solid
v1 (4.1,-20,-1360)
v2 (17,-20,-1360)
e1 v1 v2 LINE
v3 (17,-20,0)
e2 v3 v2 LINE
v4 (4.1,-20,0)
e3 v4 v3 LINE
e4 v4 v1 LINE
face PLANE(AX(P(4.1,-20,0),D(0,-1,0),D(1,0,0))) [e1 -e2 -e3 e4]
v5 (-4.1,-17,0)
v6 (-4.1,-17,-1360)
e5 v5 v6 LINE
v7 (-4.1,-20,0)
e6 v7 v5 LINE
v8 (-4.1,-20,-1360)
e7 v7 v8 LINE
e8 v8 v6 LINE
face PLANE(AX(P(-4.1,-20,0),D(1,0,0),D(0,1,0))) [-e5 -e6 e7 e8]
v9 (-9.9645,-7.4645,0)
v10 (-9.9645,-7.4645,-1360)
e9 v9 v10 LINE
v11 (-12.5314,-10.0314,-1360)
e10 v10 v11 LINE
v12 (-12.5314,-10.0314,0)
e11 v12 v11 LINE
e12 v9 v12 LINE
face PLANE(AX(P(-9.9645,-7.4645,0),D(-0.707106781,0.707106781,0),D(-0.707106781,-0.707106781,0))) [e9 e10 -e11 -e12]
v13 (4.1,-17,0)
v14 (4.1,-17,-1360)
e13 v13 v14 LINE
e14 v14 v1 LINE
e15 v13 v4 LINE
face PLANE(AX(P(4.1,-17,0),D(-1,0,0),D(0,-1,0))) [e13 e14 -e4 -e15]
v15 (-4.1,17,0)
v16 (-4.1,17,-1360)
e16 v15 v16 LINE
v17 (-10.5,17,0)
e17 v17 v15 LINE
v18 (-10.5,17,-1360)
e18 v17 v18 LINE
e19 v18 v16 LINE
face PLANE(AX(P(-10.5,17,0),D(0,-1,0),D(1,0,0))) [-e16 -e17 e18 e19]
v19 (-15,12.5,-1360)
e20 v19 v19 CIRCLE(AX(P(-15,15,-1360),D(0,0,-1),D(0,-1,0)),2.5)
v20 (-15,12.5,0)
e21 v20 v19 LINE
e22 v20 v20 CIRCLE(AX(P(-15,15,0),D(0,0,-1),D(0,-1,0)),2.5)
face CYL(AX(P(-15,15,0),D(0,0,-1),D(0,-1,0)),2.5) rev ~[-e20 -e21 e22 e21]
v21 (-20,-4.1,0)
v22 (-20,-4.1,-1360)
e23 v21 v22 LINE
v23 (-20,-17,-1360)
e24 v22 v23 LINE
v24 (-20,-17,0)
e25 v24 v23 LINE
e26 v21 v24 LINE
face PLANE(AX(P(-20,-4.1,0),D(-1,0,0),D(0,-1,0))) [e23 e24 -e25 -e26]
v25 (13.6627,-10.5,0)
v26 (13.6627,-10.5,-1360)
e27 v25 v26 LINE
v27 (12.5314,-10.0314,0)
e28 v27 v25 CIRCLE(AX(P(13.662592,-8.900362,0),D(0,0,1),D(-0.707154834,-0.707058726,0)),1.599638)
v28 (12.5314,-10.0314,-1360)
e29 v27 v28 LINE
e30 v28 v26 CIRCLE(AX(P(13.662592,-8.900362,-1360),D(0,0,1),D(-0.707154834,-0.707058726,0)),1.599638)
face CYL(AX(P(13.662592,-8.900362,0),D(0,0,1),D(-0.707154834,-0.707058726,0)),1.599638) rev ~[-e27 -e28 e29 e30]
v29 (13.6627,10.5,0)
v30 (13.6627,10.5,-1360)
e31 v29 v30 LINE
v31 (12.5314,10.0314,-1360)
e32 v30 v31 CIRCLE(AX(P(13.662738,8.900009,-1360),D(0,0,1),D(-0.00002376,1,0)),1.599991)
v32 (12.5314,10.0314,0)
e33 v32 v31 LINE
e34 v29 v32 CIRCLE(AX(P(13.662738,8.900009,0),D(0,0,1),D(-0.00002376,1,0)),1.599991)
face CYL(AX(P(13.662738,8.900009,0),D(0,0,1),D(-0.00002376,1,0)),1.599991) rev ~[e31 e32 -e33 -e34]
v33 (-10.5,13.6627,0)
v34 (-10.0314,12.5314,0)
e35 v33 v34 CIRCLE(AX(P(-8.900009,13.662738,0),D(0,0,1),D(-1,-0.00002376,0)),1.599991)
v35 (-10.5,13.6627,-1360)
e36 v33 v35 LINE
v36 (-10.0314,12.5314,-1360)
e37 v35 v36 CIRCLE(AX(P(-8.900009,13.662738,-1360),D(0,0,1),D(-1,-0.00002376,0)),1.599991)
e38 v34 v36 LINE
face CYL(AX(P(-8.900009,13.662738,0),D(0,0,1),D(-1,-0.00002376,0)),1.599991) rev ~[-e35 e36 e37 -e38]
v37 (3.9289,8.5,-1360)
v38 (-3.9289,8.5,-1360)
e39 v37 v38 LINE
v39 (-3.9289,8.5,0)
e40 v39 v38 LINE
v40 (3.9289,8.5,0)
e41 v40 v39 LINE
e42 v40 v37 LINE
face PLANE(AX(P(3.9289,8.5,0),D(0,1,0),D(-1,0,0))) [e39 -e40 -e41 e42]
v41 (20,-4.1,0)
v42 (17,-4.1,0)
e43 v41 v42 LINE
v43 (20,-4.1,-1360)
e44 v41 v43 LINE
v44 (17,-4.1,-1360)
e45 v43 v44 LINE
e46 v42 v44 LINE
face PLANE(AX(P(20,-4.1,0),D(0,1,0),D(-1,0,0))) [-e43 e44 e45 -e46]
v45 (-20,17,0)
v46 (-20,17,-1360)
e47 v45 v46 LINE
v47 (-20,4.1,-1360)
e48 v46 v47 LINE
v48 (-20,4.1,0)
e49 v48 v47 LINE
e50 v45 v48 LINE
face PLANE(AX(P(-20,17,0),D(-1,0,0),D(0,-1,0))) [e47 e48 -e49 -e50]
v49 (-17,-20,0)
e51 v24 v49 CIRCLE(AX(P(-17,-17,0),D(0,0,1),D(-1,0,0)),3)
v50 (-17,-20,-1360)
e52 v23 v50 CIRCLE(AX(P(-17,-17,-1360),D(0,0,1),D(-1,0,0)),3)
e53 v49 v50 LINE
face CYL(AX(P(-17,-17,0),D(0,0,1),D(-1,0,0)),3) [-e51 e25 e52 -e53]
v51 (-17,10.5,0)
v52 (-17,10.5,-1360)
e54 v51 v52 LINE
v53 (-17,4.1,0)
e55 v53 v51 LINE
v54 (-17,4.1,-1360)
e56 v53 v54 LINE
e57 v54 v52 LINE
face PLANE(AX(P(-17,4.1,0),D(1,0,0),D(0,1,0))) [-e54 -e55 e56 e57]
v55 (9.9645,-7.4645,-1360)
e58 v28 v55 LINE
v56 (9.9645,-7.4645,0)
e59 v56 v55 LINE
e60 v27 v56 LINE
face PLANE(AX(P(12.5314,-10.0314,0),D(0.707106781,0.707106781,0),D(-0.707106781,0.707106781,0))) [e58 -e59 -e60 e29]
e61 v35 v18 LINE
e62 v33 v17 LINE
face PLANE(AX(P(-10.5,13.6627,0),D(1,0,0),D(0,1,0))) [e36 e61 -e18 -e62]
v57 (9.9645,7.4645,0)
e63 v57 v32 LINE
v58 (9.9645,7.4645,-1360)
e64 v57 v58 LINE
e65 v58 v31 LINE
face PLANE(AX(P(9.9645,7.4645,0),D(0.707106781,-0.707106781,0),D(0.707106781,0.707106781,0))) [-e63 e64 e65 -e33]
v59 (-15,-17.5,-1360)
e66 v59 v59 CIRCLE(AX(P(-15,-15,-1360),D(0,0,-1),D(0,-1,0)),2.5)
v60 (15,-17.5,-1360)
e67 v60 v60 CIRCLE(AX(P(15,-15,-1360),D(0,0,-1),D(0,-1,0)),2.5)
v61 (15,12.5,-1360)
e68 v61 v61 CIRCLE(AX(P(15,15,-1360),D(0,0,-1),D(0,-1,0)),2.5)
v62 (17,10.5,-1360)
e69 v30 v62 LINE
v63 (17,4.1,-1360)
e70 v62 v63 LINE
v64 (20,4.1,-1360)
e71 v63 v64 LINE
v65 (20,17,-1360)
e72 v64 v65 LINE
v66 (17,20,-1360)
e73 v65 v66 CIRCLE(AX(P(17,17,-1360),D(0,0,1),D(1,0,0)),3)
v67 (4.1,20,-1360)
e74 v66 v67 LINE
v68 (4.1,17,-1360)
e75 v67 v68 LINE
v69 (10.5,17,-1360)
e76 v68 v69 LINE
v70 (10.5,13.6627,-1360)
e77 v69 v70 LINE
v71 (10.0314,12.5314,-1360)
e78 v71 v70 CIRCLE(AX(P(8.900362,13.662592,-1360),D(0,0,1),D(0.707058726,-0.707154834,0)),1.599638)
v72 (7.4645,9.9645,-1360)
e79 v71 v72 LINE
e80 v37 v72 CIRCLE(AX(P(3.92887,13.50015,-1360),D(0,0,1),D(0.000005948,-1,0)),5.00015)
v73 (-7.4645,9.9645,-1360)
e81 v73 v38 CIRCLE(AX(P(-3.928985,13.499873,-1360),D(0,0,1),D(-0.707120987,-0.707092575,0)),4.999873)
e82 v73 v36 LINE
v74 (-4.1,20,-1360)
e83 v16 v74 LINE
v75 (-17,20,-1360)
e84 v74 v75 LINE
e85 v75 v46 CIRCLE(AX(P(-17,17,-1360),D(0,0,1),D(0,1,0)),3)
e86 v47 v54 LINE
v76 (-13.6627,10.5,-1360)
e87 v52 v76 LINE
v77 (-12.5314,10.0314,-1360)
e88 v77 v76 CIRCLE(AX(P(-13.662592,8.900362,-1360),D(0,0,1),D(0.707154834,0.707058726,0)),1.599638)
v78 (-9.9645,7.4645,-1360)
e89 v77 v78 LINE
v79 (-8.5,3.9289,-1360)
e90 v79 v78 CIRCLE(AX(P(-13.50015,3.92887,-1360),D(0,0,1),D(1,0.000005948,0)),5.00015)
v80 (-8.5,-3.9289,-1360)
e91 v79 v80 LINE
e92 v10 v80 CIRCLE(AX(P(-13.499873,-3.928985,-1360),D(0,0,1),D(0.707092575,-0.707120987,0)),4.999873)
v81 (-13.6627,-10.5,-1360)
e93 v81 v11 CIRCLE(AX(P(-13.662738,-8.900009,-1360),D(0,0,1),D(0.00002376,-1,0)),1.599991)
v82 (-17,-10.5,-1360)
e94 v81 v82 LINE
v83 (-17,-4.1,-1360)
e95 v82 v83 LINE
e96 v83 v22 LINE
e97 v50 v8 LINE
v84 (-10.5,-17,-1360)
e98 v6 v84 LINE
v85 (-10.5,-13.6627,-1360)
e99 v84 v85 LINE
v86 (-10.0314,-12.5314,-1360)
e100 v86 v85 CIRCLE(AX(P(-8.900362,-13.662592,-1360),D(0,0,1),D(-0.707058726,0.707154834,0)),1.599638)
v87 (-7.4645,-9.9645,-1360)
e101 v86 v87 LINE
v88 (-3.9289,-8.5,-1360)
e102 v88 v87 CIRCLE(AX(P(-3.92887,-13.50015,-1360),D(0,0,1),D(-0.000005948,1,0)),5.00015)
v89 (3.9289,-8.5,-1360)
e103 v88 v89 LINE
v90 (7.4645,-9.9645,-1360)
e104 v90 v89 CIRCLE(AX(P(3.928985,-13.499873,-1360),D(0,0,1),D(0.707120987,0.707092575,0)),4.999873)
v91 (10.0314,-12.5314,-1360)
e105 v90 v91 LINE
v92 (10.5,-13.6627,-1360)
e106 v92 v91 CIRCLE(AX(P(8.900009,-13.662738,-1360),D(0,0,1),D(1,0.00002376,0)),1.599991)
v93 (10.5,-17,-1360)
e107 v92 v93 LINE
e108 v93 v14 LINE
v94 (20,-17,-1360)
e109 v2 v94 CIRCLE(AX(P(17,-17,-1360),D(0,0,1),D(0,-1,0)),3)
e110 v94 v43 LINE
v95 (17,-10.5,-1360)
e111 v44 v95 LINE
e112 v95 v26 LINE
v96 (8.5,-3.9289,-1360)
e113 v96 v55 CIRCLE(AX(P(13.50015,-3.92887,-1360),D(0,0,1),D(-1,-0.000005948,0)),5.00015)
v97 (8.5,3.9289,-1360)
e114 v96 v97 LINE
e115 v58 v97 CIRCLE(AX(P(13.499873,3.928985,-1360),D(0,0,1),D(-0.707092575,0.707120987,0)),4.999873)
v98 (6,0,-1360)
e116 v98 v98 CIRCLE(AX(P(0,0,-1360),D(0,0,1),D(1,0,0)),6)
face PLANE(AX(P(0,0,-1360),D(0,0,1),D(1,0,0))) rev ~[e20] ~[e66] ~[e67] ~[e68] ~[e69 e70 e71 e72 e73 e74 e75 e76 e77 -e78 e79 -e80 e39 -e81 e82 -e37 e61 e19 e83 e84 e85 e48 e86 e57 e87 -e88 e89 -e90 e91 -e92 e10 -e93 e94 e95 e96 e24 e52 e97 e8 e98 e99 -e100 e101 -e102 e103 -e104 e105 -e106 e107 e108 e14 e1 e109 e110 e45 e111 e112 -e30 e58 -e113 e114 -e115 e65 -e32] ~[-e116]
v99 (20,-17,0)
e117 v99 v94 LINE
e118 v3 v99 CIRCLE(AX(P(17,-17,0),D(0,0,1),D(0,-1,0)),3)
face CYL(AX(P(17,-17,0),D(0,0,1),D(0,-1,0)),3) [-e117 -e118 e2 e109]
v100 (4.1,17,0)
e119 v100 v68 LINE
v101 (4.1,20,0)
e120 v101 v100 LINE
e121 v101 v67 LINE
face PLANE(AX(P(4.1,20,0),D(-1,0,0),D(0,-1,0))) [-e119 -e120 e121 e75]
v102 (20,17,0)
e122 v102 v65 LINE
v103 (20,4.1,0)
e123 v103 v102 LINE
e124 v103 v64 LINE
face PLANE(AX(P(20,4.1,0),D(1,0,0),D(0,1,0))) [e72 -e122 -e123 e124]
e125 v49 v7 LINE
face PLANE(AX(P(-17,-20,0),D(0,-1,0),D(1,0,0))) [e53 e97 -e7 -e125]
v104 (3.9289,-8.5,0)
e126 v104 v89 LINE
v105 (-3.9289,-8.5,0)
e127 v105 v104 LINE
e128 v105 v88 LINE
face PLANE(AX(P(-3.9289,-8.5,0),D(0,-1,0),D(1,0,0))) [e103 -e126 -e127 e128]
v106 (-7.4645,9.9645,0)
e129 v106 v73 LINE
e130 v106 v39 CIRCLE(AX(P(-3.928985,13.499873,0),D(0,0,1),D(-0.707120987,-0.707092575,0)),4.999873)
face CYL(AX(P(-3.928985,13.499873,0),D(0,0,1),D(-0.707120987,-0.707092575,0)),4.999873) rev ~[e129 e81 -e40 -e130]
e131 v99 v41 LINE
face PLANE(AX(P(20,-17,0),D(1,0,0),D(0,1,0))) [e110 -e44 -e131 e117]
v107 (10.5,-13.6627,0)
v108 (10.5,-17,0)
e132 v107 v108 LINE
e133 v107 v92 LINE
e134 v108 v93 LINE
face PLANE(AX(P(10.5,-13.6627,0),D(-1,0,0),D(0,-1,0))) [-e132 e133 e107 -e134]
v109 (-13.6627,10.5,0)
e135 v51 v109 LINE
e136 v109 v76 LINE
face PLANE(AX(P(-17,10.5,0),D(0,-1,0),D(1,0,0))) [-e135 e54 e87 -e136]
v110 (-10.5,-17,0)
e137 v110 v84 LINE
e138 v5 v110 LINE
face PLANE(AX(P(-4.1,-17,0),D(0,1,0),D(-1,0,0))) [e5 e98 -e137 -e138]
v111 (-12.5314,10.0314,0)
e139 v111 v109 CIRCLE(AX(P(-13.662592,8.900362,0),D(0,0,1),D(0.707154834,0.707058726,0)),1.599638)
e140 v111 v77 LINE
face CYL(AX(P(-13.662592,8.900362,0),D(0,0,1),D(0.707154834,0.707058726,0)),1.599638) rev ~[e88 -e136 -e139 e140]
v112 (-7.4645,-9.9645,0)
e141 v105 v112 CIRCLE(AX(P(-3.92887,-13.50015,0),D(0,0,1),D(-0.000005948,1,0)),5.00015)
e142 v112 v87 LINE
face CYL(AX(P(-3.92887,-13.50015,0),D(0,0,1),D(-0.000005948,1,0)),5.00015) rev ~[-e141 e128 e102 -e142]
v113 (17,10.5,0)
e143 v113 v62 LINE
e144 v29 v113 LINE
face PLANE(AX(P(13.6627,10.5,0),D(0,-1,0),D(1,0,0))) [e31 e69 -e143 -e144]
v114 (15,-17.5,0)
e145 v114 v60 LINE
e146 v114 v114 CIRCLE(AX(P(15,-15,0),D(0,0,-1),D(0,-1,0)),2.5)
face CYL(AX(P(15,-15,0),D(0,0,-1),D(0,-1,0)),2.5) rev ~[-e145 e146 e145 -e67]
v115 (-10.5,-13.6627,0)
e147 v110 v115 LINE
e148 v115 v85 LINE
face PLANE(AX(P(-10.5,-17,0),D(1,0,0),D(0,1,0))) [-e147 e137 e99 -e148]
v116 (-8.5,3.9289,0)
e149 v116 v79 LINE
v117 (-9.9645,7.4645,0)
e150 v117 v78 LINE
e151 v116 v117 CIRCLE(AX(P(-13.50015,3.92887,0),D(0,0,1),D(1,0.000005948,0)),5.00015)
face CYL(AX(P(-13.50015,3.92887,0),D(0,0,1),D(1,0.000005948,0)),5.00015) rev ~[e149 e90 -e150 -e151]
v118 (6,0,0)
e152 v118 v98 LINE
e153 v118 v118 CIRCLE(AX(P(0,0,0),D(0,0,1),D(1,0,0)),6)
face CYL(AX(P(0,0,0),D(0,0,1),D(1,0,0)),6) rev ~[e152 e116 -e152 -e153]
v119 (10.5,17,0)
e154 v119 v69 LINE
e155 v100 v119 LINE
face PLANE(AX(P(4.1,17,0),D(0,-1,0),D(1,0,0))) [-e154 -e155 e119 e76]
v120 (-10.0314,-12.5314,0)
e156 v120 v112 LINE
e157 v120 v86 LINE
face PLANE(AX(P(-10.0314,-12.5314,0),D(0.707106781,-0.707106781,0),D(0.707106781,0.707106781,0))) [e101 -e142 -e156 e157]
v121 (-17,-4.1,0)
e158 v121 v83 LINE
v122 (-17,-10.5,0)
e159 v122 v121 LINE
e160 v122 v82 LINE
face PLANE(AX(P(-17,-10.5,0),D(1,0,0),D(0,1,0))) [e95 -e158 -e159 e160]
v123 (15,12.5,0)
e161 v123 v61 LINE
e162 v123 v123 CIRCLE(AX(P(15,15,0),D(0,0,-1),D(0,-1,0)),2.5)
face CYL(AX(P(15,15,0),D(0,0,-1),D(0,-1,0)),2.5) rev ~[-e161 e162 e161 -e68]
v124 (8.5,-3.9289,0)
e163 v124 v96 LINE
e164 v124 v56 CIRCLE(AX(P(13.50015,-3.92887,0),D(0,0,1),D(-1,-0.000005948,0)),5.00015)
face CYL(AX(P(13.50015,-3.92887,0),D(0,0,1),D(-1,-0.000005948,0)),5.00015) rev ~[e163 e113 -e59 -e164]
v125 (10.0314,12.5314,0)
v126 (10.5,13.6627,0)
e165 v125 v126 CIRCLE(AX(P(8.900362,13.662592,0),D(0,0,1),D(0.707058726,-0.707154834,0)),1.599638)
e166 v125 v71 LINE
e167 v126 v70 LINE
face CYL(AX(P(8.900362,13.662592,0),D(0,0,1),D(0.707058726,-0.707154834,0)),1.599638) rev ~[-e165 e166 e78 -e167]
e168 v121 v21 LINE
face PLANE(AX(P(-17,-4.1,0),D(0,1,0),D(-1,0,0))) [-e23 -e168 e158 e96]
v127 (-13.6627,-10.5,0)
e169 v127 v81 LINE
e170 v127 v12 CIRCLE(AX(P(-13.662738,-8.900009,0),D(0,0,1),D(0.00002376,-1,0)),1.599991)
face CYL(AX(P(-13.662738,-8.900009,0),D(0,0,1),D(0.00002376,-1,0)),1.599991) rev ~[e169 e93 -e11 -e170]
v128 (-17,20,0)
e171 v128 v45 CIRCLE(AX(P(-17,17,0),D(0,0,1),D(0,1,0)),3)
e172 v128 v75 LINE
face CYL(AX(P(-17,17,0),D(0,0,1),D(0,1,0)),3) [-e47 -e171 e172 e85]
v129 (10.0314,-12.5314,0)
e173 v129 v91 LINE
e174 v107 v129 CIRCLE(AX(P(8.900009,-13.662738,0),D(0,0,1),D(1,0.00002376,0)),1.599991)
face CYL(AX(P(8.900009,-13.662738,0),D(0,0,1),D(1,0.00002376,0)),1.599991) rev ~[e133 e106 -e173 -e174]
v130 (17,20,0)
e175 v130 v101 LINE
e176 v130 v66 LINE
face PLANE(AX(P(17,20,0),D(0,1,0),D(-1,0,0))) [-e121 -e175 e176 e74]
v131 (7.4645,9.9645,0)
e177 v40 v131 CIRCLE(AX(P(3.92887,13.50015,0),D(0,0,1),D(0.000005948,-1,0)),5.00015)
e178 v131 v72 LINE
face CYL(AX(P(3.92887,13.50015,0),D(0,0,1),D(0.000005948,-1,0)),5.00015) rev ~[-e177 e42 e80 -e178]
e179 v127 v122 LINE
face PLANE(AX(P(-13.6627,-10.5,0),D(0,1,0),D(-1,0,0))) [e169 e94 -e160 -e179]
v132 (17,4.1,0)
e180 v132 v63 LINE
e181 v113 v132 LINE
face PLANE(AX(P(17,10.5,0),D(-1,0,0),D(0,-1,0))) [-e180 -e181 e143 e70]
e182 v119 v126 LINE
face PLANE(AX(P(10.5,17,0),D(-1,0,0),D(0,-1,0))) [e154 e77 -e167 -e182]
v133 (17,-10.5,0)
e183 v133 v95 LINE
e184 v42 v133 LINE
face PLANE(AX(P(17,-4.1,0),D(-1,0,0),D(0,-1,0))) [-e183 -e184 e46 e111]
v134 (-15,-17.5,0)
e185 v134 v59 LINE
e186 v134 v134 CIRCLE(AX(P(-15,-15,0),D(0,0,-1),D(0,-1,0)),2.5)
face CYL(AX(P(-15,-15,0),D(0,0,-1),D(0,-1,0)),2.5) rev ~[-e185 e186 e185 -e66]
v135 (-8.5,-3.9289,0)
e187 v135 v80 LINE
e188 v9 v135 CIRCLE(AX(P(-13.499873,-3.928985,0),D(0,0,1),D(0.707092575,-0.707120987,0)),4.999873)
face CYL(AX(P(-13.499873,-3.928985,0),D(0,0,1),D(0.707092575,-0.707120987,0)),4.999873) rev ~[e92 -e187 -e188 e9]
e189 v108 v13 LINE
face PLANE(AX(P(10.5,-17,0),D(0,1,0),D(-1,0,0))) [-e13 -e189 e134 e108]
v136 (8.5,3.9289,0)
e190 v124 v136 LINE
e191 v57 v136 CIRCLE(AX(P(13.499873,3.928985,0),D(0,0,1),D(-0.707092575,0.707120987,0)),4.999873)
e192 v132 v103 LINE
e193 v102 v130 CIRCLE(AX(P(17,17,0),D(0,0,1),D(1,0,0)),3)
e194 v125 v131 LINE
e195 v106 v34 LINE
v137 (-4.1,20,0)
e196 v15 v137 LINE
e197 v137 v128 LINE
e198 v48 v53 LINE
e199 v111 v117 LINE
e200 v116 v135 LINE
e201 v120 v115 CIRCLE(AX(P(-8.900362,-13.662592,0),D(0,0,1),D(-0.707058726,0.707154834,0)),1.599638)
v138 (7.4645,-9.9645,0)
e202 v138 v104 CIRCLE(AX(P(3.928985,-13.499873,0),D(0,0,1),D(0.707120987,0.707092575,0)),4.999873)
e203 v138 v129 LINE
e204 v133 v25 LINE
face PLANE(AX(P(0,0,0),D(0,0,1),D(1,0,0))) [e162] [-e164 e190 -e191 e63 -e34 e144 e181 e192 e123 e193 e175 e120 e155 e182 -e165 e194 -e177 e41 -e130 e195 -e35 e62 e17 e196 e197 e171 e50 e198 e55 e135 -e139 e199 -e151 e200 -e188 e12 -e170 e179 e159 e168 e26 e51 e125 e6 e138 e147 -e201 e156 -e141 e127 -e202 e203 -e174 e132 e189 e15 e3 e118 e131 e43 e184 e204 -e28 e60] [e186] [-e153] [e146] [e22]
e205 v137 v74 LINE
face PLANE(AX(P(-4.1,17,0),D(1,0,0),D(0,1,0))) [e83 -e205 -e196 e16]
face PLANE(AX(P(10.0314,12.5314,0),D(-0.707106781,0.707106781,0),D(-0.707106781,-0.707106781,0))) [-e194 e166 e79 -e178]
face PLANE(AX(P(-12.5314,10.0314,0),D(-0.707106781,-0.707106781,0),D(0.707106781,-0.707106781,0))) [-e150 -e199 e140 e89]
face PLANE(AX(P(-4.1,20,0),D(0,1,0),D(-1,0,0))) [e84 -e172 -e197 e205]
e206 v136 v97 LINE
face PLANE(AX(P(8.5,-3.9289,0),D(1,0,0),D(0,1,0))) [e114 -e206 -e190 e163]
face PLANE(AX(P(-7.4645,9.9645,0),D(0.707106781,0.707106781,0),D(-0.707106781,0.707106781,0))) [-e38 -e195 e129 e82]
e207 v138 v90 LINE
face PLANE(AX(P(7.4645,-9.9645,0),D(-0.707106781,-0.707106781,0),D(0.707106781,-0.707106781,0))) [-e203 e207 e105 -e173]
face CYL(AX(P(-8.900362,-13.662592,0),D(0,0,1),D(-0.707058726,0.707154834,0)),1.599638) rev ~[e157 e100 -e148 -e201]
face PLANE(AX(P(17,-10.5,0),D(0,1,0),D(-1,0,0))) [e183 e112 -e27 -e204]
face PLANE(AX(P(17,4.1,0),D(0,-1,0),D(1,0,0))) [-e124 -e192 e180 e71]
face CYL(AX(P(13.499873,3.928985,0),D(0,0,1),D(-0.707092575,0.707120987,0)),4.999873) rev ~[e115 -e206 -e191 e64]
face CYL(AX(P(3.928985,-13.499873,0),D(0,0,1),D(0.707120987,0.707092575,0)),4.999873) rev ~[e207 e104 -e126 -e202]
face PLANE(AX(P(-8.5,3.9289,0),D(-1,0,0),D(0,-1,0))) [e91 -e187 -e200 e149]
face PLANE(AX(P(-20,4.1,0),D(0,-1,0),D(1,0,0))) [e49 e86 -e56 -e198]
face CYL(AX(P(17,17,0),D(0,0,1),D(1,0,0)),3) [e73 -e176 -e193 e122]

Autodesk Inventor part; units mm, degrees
sketch "Skizze_1" plane through (0, 0, 0) normal (0, 0, 1) x (1, 0, 0)
  arc A0 (-20, -17) -> (-17, -20) centre (-17, -17) ccw
  line L0 (-17, -20) -> (-4.1, -20)
  line L1 (-4.1, -20) -> (-4.1, -17)
  line L2 (-4.1, -17) -> (-10.5, -17)
  line L3 (-10.5, -17) -> (-10.5, -13.6627)
  arc A1 (-10.0314, -12.5314) -> (-10.5, -13.6627) centre (-8.9002, -13.6627) ccw
  line L4 (-10.0314, -12.5314) -> (-7.4645, -9.9645)
  arc A2 (-3.9289, -8.5) -> (-7.4645, -9.9645) centre (-3.9289, -13.5) ccw
  line L5 (-3.9289, -8.5) -> (3.9289, -8.5)
  arc A3 (7.4645, -9.9645) -> (3.9289, -8.5) centre (3.9289, -13.5) ccw
  line L6 (7.4645, -9.9645) -> (10.0314, -12.5314)
  arc A4 (10.5, -13.6627) -> (10.0314, -12.5314) centre (8.9002, -13.6627) ccw
  line L7 (10.5, -13.6627) -> (10.5, -17)
  line L8 (10.5, -17) -> (4.1, -17)
  line L9 (4.1, -17) -> (4.1, -20)
  line L10 (4.1, -20) -> (17, -20)
  arc A5 (17, -20) -> (20, -17) centre (17, -17) ccw
  line L11 (20, -17) -> (20, -4.1)
  line L12 (20, -4.1) -> (17, -4.1)
  line L13 (17, -4.1) -> (17, -10.5)
  line L14 (17, -10.5) -> (13.6627, -10.5)
  arc A6 (12.5314, -10.0314) -> (13.6627, -10.5) centre (13.6627, -8.9002) ccw
  line L15 (12.5314, -10.0314) -> (9.9645, -7.4645)
  arc A7 (8.5, -3.9289) -> (9.9645, -7.4645) centre (13.5, -3.9289) ccw
  line L16 (8.5, -3.9289) -> (8.5, 3.9289)
  arc A8 (9.9645, 7.4645) -> (8.5, 3.9289) centre (13.5, 3.9289) ccw
  line L17 (9.9645, 7.4645) -> (12.5314, 10.0314)
  arc A9 (13.6627, 10.5) -> (12.5314, 10.0314) centre (13.6627, 8.9002) ccw
  line L18 (13.6627, 10.5) -> (17, 10.5)
  line L19 (17, 10.5) -> (17, 4.1)
  line L20 (17, 4.1) -> (20, 4.1)
  line L21 (20, 4.1) -> (20, 17)
  arc A10 (20, 17) -> (17, 20) centre (17, 17) ccw
  line L22 (17, 20) -> (4.1, 20)
  line L23 (4.1, 20) -> (4.1, 17)
  line L24 (4.1, 17) -> (10.5, 17)
  line L25 (10.5, 17) -> (10.5, 13.6627)
  arc A11 (10.0314, 12.5314) -> (10.5, 13.6627) centre (8.9002, 13.6627) ccw
  line L26 (10.0314, 12.5314) -> (7.4645, 9.9645)
  arc A12 (3.9289, 8.5) -> (7.4645, 9.9645) centre (3.9289, 13.5) ccw
  line L27 (3.9289, 8.5) -> (-3.9289, 8.5)
  arc A13 (-7.4645, 9.9645) -> (-3.9289, 8.5) centre (-3.9289, 13.5) ccw
  line L28 (-7.4645, 9.9645) -> (-10.0314, 12.5314)
  arc A14 (-10.5, 13.6627) -> (-10.0314, 12.5314) centre (-8.9002, 13.6627) ccw
  line L29 (-10.5, 13.6627) -> (-10.5, 17)
  line L30 (-10.5, 17) -> (-4.1, 17)
  line L31 (-4.1, 17) -> (-4.1, 20)
  line L32 (-4.1, 20) -> (-17, 20)
  arc A15 (-17, 20) -> (-20, 17) centre (-17, 17) ccw
  line L33 (-20, 17) -> (-20, 4.1)
  line L34 (-20, 4.1) -> (-17, 4.1)
  line L35 (-17, 4.1) -> (-17, 10.5)
  line L36 (-17, 10.5) -> (-13.6627, 10.5)
  arc A16 (-12.5314, 10.0314) -> (-13.6627, 10.5) centre (-13.6627, 8.9002) ccw
  line L37 (-12.5314, 10.0314) -> (-9.9645, 7.4645)
  arc A17 (-8.5, 3.9289) -> (-9.9645, 7.4645) centre (-13.5, 3.9289) ccw
  line L38 (-8.5, 3.9289) -> (-8.5, -3.9289)
  arc A18 (-9.9645, -7.4645) -> (-8.5, -3.9289) centre (-13.5, -3.9289) ccw
  line L39 (-9.9645, -7.4645) -> (-12.5314, -10.0314)
  arc A19 (-13.6627, -10.5) -> (-12.5314, -10.0314) centre (-13.6627, -8.9002) ccw
  line L40 (-13.6627, -10.5) -> (-17, -10.5)
  line L41 (-17, -10.5) -> (-17, -4.1)
  line L42 (-17, -4.1) -> (-20, -4.1)
  line L43 (-20, -4.1) -> (-20, -17)
  circle A20 centre (0, 0) radius 6
extrude "Extrusion1" add sketch "Skizze_1" against normal blind 1360
sketch "Sketch2" plane through (0, 0, 0) normal (0, 0, 1) x (1, 0, 0)
  point P0 (-15, -15)
hole "Drilling 1" at (-15, -15, 0) direction (0, 0, -1) diameter 5 depth 6000
sketch "Sketch3" plane through (0, 0, 0) normal (0, 0, 1) x (1, 0, 0)
  point P0 (15, -15)
hole "Drilling 2" at (15, -15, 0) direction (0, 0, -1) diameter 5 depth 6000
sketch "Sketch4" plane through (0, 0, 0) normal (0, 0, 1) x (1, 0, 0)
  point P0 (15, 15)
hole "Drilling 3" at (15, 15, 0) direction (0, 0, -1) diameter 5 depth 6000
sketch "Sketch5" plane through (0, 0, 0) normal (0, 0, 1) x (1, 0, 0)
  point P0 (-15, 15)
hole "Drilling 4" at (-15, 15, 0) direction (0, 0, -1) diameter 5 depth 6000
ref_plane "side_4d_XY" through (-20, 0, -680) normal (-1, 0, 0) x (0, 1, 0)
ref_plane "side_4d_YZ" through (-20, 0, -680) normal (0, 1, 0) x (0, 0, -1)
ref_plane "side_4d_ZX" through (-20, 0, -680) normal (0, 0, -1) x (-1, 0, 0)
ref_plane "side_1a_XY" through (0, 20, -680) normal (0, 1, 0) x (1, 0, 0)
ref_plane "side_1a_YZ" through (0, 20, -680) normal (1, 0, 0) x (0, 0, -1)
ref_plane "side_1a_ZX" through (0, 20, -680) normal (0, 0, -1) x (0, 1, 0)
ref_plane "side_2b_XY" through (20, 0, -680) normal (1, 0, 0) x (0, -1, 0)
ref_plane "side_2b_YZ" through (20, 0, -680) normal (0, -1, 0) x (0, 0, -1)
ref_plane "side_2b_ZX" through (20, 0, -680) normal (0, 0, -1) x (1, 0, 0)
ref_plane "side_3c_XY" through (0, -20, -680) normal (0, -1, 0) x (-1, 0, 0)
ref_plane "side_3c_YZ" through (0, -20, -680) normal (-1, 0, 0) x (0, 0, -1)
ref_plane "side_3c_ZX" through (0, -20, -680) normal (0, 0, -1) x (0, -1, 0)
ref_plane "end_XY" through (0, 0, -1360) normal (0, 0, -1) x (1, 0, 0)
ref_plane "end_YZ" through (0, 0, -1360) normal (1, 0, 0) x (0, -1, 0)
ref_plane "end_ZX" through (0, 0, -1360) normal (0, -1, 0) x (0, 0, -1)
ref_plane "start_XY" through (0, 0, 0) normal (0, 0, 1) x (1, 0, 0)
ref_plane "start_YZ" through (0, 0, 0) normal (1, 0, 0) x (0, 1, 0)
ref_plane "start_ZX" through (0, 0, 0) normal (0, 1, 0) x (0, 0, 1)
properties part number "MayTec 1.11.040040.43S_Profile 40x40, 4E, S_1360_Detail_(0;0,0,0)"
